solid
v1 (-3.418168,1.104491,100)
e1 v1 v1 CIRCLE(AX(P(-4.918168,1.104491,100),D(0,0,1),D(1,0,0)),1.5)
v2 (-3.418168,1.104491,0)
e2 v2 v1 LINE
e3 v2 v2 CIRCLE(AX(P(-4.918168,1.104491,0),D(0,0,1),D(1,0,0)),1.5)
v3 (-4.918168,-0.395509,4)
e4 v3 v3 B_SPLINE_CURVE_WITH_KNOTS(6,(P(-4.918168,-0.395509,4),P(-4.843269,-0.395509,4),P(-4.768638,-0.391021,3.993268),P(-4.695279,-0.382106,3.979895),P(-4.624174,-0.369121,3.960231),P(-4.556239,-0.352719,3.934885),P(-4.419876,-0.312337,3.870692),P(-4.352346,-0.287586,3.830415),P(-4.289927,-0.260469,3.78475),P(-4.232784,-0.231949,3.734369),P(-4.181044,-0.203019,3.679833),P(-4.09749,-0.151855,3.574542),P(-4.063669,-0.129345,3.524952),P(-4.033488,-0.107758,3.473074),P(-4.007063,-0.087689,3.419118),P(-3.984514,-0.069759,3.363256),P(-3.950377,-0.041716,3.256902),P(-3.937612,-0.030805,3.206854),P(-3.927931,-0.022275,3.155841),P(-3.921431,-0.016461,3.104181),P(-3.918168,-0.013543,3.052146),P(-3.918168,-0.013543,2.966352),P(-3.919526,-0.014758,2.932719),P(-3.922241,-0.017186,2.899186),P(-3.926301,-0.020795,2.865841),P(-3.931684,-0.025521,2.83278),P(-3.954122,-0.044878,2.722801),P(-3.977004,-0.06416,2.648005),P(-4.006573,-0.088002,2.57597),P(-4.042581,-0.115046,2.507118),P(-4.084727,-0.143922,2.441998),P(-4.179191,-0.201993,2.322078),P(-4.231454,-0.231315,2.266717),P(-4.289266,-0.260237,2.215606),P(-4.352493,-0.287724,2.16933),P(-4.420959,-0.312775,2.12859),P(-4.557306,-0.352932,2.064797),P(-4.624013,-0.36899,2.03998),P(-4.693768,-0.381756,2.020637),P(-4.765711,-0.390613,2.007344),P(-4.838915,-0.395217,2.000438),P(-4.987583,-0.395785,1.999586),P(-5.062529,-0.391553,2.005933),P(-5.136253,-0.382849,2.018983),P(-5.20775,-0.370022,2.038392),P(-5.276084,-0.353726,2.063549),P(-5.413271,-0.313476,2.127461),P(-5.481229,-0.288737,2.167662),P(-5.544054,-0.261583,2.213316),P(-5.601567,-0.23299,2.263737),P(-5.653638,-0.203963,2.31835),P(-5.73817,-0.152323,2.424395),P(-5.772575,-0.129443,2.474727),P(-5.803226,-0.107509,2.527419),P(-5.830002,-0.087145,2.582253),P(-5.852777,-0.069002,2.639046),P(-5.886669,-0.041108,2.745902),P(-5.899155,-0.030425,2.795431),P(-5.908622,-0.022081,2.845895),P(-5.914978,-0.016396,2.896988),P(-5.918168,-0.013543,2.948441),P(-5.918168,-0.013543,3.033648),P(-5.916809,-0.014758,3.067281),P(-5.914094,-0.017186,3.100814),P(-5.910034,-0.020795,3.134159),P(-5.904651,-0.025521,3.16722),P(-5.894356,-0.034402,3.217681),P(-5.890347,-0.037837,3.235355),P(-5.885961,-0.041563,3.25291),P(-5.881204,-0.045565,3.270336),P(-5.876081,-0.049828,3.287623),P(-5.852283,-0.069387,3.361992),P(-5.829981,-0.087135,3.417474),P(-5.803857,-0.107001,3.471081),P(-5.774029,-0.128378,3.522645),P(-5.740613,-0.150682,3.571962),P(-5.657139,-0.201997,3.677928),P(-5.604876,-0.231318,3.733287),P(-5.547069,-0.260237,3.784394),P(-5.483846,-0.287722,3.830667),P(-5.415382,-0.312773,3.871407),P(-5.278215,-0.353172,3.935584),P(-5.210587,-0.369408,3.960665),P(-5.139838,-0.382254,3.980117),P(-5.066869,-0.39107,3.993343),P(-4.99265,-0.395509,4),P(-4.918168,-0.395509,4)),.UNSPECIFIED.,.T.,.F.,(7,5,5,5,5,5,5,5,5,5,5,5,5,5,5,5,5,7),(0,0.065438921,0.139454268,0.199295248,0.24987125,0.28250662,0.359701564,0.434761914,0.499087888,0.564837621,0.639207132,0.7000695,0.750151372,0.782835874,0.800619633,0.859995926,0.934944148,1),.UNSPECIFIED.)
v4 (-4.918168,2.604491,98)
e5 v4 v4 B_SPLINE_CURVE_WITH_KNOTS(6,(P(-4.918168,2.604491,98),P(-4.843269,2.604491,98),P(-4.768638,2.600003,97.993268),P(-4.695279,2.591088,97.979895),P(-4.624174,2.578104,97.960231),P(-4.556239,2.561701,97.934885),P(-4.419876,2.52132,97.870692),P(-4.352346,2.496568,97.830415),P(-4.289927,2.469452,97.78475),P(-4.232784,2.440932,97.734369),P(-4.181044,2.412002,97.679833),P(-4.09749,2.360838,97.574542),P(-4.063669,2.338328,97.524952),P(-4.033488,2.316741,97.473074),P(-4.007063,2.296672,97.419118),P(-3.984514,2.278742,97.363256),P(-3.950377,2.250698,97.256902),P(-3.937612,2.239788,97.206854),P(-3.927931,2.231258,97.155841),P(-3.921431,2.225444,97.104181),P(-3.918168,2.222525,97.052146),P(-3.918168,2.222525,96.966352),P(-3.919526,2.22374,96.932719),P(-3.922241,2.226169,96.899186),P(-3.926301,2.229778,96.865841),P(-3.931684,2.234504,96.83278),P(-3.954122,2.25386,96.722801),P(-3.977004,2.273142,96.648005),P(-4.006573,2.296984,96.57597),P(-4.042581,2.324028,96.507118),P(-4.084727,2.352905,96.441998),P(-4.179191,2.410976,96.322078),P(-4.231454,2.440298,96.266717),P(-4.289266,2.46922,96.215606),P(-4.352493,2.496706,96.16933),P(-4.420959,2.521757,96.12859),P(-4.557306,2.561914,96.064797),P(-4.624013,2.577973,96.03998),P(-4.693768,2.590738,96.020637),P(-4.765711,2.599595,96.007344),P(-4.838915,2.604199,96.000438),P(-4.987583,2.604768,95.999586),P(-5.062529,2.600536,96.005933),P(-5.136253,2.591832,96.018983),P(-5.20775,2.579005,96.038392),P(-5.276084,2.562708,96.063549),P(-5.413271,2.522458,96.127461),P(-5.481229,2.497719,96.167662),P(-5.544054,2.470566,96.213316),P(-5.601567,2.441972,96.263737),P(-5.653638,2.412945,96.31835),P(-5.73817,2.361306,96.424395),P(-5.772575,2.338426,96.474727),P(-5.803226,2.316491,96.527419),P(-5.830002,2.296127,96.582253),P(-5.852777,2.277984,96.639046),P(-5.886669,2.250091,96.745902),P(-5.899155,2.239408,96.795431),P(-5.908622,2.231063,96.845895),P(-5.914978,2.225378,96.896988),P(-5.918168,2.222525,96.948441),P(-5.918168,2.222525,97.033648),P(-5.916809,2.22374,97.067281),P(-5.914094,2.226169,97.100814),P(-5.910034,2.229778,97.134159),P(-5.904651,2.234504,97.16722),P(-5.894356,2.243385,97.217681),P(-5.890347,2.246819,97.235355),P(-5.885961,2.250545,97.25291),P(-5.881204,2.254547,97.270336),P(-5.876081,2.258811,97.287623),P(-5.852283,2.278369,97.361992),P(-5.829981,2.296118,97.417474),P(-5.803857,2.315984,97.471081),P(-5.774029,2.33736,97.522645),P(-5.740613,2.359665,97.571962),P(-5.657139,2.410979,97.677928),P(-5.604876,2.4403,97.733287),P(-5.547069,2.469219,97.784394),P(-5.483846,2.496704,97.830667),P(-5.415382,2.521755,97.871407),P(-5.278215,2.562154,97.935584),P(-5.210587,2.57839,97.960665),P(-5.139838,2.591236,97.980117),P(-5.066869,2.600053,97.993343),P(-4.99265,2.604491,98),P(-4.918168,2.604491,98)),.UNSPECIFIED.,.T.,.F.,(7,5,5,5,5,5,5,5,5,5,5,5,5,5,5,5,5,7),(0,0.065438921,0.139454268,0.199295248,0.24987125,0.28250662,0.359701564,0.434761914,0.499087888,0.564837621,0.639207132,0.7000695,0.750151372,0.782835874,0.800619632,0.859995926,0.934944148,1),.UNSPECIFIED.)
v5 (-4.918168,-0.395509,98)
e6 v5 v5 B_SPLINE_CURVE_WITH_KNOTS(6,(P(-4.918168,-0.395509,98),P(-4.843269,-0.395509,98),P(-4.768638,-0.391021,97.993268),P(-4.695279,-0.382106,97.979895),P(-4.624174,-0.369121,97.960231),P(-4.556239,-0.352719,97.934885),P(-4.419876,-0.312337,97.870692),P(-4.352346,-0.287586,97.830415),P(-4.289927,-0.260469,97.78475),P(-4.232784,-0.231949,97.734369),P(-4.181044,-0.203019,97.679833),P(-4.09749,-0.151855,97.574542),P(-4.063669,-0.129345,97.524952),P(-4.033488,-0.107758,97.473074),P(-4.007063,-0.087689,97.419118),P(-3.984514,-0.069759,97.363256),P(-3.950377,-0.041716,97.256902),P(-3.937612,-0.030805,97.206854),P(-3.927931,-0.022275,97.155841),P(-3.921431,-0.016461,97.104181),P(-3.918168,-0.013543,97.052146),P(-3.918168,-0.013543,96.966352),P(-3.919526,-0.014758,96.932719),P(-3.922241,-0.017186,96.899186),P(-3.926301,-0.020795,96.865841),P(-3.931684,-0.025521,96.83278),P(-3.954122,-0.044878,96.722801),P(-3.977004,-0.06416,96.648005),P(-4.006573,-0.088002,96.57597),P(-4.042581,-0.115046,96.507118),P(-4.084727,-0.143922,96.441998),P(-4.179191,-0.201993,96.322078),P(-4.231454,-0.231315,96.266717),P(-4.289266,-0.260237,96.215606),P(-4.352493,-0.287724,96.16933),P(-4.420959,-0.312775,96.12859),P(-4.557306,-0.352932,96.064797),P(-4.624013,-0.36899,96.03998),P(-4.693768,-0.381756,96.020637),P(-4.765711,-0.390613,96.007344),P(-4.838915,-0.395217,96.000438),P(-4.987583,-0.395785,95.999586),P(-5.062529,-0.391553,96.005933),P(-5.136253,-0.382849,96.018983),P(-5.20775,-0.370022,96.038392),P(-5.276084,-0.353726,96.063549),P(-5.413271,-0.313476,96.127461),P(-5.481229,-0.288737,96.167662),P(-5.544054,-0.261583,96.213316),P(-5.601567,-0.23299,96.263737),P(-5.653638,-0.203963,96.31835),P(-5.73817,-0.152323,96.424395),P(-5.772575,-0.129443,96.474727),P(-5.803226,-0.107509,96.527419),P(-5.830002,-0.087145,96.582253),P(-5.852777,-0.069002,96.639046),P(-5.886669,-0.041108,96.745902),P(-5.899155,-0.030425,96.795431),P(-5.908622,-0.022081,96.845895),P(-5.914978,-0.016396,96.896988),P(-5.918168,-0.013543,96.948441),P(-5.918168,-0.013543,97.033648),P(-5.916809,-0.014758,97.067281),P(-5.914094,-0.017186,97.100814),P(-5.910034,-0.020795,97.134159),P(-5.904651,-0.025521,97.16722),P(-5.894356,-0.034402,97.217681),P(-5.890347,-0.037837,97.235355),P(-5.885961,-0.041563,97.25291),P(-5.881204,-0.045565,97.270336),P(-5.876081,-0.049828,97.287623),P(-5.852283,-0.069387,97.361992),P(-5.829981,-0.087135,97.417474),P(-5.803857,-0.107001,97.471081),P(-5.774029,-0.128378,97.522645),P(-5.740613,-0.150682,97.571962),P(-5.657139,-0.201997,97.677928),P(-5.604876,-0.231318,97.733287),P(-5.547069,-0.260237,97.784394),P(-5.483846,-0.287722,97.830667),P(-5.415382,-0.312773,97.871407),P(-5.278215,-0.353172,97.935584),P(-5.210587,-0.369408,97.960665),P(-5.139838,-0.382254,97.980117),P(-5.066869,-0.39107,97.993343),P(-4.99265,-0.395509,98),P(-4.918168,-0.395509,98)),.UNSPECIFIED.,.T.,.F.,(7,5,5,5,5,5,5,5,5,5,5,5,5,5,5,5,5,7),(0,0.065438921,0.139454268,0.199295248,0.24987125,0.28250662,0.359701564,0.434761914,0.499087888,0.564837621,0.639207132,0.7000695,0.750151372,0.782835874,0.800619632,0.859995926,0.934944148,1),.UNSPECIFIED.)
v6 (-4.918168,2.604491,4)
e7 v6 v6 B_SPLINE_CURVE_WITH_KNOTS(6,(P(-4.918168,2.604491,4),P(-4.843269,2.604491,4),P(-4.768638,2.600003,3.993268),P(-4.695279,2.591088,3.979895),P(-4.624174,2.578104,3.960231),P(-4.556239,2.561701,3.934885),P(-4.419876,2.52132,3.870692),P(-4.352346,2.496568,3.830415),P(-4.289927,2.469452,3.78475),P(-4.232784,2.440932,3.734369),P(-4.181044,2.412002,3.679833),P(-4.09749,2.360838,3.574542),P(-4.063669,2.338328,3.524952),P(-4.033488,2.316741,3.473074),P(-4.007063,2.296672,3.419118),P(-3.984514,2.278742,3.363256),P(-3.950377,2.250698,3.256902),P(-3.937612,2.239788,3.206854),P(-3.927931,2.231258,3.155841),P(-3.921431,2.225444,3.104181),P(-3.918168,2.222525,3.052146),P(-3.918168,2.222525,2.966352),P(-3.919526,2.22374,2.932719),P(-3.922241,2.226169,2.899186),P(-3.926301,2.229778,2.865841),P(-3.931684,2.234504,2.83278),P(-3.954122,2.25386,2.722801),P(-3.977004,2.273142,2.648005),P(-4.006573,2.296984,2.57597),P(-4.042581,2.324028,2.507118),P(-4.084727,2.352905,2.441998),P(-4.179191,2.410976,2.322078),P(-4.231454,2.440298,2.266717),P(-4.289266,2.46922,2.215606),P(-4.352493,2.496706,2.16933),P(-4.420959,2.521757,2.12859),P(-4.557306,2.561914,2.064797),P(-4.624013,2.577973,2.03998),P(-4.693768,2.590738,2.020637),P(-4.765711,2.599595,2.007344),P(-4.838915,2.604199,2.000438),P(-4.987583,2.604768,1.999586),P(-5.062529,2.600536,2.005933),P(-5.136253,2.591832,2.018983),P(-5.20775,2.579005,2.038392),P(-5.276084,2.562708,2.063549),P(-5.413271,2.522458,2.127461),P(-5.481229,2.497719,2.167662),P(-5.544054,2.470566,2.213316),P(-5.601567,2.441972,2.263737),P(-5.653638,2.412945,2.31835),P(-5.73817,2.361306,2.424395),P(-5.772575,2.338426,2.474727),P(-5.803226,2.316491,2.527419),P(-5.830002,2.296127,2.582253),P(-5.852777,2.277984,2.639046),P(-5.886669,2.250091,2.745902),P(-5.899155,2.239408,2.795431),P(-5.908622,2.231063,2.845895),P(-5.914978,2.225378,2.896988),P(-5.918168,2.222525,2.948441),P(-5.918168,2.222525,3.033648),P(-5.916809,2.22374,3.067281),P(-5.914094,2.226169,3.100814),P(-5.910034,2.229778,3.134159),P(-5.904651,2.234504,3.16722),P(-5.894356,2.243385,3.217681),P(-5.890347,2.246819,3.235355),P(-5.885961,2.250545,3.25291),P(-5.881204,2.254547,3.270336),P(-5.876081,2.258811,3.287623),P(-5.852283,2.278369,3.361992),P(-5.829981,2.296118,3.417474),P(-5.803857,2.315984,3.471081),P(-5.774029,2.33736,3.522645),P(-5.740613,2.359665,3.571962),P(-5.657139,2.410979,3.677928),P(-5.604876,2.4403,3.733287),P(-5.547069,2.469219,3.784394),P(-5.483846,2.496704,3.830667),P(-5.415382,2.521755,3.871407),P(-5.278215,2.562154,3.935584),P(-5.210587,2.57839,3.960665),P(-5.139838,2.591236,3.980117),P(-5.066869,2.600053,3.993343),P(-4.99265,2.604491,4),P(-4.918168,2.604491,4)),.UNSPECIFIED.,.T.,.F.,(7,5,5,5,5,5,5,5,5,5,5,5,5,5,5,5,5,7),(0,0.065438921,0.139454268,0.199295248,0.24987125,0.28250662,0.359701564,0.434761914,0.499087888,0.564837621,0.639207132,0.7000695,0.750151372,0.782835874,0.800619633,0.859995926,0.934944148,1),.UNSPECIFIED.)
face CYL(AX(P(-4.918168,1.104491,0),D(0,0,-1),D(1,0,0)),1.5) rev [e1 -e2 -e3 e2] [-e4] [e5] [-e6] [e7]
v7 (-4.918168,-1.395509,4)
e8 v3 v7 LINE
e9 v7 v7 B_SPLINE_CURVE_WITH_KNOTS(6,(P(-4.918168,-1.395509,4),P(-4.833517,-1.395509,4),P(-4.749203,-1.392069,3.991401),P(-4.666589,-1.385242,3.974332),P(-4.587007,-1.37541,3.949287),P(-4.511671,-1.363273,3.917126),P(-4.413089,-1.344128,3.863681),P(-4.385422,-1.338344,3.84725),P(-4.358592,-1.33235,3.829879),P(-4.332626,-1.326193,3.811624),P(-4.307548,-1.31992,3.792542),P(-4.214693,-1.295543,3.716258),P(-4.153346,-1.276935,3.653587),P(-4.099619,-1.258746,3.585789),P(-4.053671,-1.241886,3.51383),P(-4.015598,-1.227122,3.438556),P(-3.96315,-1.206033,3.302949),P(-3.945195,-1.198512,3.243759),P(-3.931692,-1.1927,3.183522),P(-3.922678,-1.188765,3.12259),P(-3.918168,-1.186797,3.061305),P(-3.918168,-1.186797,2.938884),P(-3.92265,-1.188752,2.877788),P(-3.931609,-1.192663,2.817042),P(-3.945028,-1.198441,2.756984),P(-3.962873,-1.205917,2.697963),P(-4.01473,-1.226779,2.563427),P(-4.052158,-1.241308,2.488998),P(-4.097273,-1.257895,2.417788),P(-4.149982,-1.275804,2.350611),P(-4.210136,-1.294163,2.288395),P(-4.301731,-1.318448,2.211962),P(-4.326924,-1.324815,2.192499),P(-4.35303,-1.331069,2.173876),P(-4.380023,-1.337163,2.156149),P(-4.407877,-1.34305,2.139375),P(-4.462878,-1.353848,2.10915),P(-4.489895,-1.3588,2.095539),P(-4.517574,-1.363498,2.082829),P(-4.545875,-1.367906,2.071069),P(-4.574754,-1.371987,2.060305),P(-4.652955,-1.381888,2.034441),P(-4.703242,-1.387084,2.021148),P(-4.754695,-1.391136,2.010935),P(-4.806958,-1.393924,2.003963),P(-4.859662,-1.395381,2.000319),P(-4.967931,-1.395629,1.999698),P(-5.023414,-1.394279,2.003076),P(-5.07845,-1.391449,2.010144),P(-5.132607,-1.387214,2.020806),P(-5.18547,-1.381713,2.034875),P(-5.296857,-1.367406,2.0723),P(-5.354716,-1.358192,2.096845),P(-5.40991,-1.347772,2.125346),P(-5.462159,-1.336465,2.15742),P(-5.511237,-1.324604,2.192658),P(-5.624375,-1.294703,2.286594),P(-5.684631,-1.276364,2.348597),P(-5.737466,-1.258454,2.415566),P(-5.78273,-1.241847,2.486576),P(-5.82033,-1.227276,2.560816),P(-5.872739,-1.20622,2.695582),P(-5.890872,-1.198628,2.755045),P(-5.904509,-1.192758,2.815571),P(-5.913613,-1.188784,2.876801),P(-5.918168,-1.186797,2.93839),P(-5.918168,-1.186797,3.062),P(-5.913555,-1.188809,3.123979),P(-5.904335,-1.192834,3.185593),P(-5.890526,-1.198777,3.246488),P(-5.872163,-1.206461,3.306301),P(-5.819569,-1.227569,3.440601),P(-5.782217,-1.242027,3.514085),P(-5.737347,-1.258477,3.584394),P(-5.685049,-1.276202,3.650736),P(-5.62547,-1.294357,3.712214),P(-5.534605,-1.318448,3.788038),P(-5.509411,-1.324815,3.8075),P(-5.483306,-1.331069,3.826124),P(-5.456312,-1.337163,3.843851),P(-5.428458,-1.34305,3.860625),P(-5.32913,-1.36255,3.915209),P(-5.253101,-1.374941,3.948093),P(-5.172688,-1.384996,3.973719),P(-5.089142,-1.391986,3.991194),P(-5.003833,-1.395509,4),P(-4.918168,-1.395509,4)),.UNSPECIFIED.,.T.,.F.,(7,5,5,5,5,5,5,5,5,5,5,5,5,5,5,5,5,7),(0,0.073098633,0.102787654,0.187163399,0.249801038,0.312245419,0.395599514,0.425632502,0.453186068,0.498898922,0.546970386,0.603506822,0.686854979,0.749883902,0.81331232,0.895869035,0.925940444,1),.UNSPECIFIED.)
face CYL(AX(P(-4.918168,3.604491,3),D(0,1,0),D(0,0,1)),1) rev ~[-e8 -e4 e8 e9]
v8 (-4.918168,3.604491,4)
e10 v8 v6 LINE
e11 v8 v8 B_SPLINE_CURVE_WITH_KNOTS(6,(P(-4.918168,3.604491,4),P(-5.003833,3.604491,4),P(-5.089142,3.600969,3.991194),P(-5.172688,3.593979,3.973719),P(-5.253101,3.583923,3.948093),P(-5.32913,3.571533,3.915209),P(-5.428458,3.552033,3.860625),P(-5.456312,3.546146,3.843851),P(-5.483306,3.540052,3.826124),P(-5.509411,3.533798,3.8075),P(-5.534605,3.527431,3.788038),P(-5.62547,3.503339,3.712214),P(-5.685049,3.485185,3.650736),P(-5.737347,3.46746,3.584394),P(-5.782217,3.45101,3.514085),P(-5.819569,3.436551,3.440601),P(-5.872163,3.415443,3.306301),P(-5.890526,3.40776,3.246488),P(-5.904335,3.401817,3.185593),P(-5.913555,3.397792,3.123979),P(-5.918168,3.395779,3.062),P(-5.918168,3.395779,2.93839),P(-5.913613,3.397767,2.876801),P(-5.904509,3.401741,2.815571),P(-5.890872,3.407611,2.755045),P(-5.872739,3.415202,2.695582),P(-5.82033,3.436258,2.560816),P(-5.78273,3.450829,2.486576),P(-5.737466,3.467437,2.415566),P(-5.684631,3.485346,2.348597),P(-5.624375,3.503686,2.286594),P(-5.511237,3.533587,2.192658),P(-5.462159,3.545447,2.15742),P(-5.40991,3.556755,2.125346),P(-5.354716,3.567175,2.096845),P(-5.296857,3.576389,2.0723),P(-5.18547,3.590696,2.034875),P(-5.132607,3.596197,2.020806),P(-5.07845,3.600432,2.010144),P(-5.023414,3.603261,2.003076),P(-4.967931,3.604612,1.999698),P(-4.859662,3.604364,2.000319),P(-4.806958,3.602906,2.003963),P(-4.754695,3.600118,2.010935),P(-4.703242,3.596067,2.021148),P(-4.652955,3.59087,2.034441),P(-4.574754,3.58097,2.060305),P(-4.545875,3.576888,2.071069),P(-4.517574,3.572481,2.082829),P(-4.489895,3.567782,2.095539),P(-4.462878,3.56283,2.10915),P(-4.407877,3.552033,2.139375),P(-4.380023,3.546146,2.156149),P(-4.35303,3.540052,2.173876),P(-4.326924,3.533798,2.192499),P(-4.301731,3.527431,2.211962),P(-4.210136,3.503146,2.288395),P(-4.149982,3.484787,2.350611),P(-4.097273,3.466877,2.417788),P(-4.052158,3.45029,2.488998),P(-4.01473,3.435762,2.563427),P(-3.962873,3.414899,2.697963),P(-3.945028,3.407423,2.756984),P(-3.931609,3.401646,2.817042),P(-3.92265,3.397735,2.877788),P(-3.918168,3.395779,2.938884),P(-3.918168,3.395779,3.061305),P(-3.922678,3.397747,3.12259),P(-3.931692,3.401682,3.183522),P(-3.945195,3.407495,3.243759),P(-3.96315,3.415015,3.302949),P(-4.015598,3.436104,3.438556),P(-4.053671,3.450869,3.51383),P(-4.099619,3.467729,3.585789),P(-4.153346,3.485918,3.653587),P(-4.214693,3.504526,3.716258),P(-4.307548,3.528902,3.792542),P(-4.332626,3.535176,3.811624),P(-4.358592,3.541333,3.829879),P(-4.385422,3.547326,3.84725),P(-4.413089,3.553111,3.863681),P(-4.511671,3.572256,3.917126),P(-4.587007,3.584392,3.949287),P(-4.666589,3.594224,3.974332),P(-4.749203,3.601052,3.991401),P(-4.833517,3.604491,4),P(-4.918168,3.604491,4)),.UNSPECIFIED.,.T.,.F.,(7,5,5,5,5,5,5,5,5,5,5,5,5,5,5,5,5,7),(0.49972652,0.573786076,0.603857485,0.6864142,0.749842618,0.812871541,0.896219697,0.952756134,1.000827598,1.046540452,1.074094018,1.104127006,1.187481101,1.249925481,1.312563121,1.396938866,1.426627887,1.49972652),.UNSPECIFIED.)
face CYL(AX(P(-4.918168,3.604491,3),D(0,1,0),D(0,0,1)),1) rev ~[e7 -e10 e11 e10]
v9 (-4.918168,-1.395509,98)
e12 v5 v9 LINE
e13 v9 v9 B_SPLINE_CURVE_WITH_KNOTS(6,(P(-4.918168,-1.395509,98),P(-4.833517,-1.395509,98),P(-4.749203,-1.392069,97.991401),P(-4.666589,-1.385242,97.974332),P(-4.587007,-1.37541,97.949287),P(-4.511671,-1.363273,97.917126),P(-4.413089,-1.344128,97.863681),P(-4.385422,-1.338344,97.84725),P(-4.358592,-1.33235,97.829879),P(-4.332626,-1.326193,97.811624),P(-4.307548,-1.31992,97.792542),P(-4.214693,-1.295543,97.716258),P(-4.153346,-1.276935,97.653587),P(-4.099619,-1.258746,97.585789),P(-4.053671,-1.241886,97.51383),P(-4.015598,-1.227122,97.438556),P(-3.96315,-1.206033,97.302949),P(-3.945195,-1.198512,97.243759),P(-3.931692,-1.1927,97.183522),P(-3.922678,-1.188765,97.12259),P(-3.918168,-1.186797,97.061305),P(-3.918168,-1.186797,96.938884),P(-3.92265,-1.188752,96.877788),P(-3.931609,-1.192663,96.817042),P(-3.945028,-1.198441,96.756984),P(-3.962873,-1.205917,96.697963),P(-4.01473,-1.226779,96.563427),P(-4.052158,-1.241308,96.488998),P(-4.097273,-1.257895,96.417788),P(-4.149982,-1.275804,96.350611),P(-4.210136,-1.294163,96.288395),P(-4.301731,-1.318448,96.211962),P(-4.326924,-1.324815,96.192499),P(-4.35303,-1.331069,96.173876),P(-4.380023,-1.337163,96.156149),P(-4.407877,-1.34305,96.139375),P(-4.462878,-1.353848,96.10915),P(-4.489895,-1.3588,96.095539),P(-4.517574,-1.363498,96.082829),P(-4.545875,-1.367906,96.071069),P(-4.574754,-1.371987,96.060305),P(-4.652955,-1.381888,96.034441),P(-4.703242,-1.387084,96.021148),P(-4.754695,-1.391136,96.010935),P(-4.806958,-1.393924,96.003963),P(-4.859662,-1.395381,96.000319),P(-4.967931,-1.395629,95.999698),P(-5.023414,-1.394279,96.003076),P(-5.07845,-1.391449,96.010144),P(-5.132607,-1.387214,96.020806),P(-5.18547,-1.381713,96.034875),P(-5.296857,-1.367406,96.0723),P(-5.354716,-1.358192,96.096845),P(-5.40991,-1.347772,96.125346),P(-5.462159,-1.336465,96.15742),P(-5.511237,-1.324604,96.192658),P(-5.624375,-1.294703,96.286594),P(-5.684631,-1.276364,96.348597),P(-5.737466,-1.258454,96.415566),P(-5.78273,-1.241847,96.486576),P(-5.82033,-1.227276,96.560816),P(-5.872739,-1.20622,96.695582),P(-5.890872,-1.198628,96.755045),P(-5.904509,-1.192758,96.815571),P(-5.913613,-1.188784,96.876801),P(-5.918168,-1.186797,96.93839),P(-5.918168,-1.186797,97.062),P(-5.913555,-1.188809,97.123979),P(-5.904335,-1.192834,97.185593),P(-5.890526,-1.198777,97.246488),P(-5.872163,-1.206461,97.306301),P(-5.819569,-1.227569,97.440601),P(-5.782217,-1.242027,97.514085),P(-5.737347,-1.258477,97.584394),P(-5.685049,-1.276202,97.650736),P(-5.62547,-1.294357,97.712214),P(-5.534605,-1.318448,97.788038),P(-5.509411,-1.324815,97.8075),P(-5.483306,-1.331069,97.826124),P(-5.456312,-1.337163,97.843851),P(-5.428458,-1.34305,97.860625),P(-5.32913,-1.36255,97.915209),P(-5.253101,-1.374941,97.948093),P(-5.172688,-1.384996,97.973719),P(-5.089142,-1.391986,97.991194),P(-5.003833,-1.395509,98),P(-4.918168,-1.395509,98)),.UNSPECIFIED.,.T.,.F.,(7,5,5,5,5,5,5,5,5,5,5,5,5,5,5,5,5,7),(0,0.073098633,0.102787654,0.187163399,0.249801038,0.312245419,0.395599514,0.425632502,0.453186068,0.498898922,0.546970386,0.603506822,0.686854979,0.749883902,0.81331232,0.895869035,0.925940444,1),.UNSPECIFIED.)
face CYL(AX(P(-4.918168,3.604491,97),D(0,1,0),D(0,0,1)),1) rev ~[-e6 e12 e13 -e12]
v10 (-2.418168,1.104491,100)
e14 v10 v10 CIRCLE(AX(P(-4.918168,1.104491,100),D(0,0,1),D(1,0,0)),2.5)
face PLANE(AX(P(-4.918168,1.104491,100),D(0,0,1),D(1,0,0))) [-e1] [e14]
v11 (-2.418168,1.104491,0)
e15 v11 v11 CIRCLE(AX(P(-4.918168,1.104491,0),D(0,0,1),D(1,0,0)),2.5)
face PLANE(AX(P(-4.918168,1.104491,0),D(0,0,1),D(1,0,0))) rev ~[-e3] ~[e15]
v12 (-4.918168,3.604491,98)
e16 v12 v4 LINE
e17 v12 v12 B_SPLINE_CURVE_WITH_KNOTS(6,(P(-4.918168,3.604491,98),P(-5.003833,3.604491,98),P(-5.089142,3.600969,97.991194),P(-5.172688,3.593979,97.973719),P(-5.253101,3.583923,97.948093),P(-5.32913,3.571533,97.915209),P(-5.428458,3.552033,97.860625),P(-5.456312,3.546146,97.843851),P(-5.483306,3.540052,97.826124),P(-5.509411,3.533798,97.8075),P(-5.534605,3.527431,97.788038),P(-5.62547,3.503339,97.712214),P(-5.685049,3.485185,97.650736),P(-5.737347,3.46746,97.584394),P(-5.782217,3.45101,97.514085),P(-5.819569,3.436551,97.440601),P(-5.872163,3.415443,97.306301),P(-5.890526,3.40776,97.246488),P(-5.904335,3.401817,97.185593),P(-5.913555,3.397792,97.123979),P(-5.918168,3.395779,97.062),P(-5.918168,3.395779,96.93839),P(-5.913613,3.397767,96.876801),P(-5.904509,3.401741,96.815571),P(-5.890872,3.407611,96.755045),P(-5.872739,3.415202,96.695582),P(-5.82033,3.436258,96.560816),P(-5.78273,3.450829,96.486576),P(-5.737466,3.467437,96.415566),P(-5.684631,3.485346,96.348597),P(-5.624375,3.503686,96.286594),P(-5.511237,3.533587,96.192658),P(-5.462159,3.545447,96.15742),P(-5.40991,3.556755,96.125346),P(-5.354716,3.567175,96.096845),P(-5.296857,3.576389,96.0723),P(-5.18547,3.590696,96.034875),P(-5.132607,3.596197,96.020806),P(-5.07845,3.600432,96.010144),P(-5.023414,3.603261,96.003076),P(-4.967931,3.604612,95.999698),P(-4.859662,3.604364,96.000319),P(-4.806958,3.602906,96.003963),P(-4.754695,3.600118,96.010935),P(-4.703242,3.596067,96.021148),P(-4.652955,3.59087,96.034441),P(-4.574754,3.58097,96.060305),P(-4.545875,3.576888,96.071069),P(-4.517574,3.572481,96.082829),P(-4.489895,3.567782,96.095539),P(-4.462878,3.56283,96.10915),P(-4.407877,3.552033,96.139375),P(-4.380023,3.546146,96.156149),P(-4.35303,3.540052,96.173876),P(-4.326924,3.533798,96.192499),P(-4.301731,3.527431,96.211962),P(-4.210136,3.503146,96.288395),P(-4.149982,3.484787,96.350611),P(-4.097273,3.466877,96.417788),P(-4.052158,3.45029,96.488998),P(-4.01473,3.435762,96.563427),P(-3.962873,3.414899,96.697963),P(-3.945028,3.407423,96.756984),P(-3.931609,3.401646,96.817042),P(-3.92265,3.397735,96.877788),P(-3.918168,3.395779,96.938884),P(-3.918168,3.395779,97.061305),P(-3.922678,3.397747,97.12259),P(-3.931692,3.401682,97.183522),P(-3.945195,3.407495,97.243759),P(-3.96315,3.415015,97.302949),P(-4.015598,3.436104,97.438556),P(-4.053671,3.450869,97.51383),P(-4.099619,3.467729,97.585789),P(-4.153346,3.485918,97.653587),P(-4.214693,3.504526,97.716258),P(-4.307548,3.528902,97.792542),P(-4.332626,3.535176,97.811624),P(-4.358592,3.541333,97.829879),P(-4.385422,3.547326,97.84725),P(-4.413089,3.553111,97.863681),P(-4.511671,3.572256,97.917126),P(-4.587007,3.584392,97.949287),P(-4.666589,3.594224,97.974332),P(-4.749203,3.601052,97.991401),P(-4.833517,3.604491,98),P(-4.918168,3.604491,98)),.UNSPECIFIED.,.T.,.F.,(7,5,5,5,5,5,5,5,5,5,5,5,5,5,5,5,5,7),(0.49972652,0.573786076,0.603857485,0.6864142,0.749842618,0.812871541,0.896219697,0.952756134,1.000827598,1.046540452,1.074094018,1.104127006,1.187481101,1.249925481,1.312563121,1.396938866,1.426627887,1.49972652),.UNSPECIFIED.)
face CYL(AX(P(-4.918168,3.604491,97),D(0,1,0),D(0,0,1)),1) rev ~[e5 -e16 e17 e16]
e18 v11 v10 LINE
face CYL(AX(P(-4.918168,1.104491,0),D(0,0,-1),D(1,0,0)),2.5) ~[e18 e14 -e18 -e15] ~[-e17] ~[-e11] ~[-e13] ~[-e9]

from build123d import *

# Parameters (mm, degrees)
ESQUISSE1_R             = 2.5
ESQUISSE1_R_2           = 1.5
BOSS_EXTRU_1_DEPTH      = 100
ESQUISSE2_R             = 1
ENL_V_MAT_EXTRU_1_DEPTH = 101.399348663


with BuildPart() as part:
    # Esquisse1 → Boss.-Extru.1 (new body)
    with BuildSketch(Plane.XY):
        with Locations((-4.918167702, 1.104491281)):
            Circle(ESQUISSE1_R)
        with Locations((-4.918167702, 1.104491281)):
            Circle(ESQUISSE1_R_2, mode=Mode.SUBTRACT)
    extrude(amount=BOSS_EXTRU_1_DEPTH)

    # Esquisse2 → Enlèv. mat.-Extru.1 (cut, through all)
    with BuildSketch(Plane(origin=(0, 3.604491281, 0), x_dir=(1, 0, 0), z_dir=(0, 1, 0))):
        with Locations(Location((-4.918167702, -3, 0), (0, 0, 270))):
            Circle(ESQUISSE2_R)
        with Locations(Location((-4.918167702, -97, 0), (0, 0, 270))):
            Circle(ESQUISSE2_R)
    extrude(amount=-ENL_V_MAT_EXTRU_1_DEPTH, mode=Mode.SUBTRACT)


solid = part.part
